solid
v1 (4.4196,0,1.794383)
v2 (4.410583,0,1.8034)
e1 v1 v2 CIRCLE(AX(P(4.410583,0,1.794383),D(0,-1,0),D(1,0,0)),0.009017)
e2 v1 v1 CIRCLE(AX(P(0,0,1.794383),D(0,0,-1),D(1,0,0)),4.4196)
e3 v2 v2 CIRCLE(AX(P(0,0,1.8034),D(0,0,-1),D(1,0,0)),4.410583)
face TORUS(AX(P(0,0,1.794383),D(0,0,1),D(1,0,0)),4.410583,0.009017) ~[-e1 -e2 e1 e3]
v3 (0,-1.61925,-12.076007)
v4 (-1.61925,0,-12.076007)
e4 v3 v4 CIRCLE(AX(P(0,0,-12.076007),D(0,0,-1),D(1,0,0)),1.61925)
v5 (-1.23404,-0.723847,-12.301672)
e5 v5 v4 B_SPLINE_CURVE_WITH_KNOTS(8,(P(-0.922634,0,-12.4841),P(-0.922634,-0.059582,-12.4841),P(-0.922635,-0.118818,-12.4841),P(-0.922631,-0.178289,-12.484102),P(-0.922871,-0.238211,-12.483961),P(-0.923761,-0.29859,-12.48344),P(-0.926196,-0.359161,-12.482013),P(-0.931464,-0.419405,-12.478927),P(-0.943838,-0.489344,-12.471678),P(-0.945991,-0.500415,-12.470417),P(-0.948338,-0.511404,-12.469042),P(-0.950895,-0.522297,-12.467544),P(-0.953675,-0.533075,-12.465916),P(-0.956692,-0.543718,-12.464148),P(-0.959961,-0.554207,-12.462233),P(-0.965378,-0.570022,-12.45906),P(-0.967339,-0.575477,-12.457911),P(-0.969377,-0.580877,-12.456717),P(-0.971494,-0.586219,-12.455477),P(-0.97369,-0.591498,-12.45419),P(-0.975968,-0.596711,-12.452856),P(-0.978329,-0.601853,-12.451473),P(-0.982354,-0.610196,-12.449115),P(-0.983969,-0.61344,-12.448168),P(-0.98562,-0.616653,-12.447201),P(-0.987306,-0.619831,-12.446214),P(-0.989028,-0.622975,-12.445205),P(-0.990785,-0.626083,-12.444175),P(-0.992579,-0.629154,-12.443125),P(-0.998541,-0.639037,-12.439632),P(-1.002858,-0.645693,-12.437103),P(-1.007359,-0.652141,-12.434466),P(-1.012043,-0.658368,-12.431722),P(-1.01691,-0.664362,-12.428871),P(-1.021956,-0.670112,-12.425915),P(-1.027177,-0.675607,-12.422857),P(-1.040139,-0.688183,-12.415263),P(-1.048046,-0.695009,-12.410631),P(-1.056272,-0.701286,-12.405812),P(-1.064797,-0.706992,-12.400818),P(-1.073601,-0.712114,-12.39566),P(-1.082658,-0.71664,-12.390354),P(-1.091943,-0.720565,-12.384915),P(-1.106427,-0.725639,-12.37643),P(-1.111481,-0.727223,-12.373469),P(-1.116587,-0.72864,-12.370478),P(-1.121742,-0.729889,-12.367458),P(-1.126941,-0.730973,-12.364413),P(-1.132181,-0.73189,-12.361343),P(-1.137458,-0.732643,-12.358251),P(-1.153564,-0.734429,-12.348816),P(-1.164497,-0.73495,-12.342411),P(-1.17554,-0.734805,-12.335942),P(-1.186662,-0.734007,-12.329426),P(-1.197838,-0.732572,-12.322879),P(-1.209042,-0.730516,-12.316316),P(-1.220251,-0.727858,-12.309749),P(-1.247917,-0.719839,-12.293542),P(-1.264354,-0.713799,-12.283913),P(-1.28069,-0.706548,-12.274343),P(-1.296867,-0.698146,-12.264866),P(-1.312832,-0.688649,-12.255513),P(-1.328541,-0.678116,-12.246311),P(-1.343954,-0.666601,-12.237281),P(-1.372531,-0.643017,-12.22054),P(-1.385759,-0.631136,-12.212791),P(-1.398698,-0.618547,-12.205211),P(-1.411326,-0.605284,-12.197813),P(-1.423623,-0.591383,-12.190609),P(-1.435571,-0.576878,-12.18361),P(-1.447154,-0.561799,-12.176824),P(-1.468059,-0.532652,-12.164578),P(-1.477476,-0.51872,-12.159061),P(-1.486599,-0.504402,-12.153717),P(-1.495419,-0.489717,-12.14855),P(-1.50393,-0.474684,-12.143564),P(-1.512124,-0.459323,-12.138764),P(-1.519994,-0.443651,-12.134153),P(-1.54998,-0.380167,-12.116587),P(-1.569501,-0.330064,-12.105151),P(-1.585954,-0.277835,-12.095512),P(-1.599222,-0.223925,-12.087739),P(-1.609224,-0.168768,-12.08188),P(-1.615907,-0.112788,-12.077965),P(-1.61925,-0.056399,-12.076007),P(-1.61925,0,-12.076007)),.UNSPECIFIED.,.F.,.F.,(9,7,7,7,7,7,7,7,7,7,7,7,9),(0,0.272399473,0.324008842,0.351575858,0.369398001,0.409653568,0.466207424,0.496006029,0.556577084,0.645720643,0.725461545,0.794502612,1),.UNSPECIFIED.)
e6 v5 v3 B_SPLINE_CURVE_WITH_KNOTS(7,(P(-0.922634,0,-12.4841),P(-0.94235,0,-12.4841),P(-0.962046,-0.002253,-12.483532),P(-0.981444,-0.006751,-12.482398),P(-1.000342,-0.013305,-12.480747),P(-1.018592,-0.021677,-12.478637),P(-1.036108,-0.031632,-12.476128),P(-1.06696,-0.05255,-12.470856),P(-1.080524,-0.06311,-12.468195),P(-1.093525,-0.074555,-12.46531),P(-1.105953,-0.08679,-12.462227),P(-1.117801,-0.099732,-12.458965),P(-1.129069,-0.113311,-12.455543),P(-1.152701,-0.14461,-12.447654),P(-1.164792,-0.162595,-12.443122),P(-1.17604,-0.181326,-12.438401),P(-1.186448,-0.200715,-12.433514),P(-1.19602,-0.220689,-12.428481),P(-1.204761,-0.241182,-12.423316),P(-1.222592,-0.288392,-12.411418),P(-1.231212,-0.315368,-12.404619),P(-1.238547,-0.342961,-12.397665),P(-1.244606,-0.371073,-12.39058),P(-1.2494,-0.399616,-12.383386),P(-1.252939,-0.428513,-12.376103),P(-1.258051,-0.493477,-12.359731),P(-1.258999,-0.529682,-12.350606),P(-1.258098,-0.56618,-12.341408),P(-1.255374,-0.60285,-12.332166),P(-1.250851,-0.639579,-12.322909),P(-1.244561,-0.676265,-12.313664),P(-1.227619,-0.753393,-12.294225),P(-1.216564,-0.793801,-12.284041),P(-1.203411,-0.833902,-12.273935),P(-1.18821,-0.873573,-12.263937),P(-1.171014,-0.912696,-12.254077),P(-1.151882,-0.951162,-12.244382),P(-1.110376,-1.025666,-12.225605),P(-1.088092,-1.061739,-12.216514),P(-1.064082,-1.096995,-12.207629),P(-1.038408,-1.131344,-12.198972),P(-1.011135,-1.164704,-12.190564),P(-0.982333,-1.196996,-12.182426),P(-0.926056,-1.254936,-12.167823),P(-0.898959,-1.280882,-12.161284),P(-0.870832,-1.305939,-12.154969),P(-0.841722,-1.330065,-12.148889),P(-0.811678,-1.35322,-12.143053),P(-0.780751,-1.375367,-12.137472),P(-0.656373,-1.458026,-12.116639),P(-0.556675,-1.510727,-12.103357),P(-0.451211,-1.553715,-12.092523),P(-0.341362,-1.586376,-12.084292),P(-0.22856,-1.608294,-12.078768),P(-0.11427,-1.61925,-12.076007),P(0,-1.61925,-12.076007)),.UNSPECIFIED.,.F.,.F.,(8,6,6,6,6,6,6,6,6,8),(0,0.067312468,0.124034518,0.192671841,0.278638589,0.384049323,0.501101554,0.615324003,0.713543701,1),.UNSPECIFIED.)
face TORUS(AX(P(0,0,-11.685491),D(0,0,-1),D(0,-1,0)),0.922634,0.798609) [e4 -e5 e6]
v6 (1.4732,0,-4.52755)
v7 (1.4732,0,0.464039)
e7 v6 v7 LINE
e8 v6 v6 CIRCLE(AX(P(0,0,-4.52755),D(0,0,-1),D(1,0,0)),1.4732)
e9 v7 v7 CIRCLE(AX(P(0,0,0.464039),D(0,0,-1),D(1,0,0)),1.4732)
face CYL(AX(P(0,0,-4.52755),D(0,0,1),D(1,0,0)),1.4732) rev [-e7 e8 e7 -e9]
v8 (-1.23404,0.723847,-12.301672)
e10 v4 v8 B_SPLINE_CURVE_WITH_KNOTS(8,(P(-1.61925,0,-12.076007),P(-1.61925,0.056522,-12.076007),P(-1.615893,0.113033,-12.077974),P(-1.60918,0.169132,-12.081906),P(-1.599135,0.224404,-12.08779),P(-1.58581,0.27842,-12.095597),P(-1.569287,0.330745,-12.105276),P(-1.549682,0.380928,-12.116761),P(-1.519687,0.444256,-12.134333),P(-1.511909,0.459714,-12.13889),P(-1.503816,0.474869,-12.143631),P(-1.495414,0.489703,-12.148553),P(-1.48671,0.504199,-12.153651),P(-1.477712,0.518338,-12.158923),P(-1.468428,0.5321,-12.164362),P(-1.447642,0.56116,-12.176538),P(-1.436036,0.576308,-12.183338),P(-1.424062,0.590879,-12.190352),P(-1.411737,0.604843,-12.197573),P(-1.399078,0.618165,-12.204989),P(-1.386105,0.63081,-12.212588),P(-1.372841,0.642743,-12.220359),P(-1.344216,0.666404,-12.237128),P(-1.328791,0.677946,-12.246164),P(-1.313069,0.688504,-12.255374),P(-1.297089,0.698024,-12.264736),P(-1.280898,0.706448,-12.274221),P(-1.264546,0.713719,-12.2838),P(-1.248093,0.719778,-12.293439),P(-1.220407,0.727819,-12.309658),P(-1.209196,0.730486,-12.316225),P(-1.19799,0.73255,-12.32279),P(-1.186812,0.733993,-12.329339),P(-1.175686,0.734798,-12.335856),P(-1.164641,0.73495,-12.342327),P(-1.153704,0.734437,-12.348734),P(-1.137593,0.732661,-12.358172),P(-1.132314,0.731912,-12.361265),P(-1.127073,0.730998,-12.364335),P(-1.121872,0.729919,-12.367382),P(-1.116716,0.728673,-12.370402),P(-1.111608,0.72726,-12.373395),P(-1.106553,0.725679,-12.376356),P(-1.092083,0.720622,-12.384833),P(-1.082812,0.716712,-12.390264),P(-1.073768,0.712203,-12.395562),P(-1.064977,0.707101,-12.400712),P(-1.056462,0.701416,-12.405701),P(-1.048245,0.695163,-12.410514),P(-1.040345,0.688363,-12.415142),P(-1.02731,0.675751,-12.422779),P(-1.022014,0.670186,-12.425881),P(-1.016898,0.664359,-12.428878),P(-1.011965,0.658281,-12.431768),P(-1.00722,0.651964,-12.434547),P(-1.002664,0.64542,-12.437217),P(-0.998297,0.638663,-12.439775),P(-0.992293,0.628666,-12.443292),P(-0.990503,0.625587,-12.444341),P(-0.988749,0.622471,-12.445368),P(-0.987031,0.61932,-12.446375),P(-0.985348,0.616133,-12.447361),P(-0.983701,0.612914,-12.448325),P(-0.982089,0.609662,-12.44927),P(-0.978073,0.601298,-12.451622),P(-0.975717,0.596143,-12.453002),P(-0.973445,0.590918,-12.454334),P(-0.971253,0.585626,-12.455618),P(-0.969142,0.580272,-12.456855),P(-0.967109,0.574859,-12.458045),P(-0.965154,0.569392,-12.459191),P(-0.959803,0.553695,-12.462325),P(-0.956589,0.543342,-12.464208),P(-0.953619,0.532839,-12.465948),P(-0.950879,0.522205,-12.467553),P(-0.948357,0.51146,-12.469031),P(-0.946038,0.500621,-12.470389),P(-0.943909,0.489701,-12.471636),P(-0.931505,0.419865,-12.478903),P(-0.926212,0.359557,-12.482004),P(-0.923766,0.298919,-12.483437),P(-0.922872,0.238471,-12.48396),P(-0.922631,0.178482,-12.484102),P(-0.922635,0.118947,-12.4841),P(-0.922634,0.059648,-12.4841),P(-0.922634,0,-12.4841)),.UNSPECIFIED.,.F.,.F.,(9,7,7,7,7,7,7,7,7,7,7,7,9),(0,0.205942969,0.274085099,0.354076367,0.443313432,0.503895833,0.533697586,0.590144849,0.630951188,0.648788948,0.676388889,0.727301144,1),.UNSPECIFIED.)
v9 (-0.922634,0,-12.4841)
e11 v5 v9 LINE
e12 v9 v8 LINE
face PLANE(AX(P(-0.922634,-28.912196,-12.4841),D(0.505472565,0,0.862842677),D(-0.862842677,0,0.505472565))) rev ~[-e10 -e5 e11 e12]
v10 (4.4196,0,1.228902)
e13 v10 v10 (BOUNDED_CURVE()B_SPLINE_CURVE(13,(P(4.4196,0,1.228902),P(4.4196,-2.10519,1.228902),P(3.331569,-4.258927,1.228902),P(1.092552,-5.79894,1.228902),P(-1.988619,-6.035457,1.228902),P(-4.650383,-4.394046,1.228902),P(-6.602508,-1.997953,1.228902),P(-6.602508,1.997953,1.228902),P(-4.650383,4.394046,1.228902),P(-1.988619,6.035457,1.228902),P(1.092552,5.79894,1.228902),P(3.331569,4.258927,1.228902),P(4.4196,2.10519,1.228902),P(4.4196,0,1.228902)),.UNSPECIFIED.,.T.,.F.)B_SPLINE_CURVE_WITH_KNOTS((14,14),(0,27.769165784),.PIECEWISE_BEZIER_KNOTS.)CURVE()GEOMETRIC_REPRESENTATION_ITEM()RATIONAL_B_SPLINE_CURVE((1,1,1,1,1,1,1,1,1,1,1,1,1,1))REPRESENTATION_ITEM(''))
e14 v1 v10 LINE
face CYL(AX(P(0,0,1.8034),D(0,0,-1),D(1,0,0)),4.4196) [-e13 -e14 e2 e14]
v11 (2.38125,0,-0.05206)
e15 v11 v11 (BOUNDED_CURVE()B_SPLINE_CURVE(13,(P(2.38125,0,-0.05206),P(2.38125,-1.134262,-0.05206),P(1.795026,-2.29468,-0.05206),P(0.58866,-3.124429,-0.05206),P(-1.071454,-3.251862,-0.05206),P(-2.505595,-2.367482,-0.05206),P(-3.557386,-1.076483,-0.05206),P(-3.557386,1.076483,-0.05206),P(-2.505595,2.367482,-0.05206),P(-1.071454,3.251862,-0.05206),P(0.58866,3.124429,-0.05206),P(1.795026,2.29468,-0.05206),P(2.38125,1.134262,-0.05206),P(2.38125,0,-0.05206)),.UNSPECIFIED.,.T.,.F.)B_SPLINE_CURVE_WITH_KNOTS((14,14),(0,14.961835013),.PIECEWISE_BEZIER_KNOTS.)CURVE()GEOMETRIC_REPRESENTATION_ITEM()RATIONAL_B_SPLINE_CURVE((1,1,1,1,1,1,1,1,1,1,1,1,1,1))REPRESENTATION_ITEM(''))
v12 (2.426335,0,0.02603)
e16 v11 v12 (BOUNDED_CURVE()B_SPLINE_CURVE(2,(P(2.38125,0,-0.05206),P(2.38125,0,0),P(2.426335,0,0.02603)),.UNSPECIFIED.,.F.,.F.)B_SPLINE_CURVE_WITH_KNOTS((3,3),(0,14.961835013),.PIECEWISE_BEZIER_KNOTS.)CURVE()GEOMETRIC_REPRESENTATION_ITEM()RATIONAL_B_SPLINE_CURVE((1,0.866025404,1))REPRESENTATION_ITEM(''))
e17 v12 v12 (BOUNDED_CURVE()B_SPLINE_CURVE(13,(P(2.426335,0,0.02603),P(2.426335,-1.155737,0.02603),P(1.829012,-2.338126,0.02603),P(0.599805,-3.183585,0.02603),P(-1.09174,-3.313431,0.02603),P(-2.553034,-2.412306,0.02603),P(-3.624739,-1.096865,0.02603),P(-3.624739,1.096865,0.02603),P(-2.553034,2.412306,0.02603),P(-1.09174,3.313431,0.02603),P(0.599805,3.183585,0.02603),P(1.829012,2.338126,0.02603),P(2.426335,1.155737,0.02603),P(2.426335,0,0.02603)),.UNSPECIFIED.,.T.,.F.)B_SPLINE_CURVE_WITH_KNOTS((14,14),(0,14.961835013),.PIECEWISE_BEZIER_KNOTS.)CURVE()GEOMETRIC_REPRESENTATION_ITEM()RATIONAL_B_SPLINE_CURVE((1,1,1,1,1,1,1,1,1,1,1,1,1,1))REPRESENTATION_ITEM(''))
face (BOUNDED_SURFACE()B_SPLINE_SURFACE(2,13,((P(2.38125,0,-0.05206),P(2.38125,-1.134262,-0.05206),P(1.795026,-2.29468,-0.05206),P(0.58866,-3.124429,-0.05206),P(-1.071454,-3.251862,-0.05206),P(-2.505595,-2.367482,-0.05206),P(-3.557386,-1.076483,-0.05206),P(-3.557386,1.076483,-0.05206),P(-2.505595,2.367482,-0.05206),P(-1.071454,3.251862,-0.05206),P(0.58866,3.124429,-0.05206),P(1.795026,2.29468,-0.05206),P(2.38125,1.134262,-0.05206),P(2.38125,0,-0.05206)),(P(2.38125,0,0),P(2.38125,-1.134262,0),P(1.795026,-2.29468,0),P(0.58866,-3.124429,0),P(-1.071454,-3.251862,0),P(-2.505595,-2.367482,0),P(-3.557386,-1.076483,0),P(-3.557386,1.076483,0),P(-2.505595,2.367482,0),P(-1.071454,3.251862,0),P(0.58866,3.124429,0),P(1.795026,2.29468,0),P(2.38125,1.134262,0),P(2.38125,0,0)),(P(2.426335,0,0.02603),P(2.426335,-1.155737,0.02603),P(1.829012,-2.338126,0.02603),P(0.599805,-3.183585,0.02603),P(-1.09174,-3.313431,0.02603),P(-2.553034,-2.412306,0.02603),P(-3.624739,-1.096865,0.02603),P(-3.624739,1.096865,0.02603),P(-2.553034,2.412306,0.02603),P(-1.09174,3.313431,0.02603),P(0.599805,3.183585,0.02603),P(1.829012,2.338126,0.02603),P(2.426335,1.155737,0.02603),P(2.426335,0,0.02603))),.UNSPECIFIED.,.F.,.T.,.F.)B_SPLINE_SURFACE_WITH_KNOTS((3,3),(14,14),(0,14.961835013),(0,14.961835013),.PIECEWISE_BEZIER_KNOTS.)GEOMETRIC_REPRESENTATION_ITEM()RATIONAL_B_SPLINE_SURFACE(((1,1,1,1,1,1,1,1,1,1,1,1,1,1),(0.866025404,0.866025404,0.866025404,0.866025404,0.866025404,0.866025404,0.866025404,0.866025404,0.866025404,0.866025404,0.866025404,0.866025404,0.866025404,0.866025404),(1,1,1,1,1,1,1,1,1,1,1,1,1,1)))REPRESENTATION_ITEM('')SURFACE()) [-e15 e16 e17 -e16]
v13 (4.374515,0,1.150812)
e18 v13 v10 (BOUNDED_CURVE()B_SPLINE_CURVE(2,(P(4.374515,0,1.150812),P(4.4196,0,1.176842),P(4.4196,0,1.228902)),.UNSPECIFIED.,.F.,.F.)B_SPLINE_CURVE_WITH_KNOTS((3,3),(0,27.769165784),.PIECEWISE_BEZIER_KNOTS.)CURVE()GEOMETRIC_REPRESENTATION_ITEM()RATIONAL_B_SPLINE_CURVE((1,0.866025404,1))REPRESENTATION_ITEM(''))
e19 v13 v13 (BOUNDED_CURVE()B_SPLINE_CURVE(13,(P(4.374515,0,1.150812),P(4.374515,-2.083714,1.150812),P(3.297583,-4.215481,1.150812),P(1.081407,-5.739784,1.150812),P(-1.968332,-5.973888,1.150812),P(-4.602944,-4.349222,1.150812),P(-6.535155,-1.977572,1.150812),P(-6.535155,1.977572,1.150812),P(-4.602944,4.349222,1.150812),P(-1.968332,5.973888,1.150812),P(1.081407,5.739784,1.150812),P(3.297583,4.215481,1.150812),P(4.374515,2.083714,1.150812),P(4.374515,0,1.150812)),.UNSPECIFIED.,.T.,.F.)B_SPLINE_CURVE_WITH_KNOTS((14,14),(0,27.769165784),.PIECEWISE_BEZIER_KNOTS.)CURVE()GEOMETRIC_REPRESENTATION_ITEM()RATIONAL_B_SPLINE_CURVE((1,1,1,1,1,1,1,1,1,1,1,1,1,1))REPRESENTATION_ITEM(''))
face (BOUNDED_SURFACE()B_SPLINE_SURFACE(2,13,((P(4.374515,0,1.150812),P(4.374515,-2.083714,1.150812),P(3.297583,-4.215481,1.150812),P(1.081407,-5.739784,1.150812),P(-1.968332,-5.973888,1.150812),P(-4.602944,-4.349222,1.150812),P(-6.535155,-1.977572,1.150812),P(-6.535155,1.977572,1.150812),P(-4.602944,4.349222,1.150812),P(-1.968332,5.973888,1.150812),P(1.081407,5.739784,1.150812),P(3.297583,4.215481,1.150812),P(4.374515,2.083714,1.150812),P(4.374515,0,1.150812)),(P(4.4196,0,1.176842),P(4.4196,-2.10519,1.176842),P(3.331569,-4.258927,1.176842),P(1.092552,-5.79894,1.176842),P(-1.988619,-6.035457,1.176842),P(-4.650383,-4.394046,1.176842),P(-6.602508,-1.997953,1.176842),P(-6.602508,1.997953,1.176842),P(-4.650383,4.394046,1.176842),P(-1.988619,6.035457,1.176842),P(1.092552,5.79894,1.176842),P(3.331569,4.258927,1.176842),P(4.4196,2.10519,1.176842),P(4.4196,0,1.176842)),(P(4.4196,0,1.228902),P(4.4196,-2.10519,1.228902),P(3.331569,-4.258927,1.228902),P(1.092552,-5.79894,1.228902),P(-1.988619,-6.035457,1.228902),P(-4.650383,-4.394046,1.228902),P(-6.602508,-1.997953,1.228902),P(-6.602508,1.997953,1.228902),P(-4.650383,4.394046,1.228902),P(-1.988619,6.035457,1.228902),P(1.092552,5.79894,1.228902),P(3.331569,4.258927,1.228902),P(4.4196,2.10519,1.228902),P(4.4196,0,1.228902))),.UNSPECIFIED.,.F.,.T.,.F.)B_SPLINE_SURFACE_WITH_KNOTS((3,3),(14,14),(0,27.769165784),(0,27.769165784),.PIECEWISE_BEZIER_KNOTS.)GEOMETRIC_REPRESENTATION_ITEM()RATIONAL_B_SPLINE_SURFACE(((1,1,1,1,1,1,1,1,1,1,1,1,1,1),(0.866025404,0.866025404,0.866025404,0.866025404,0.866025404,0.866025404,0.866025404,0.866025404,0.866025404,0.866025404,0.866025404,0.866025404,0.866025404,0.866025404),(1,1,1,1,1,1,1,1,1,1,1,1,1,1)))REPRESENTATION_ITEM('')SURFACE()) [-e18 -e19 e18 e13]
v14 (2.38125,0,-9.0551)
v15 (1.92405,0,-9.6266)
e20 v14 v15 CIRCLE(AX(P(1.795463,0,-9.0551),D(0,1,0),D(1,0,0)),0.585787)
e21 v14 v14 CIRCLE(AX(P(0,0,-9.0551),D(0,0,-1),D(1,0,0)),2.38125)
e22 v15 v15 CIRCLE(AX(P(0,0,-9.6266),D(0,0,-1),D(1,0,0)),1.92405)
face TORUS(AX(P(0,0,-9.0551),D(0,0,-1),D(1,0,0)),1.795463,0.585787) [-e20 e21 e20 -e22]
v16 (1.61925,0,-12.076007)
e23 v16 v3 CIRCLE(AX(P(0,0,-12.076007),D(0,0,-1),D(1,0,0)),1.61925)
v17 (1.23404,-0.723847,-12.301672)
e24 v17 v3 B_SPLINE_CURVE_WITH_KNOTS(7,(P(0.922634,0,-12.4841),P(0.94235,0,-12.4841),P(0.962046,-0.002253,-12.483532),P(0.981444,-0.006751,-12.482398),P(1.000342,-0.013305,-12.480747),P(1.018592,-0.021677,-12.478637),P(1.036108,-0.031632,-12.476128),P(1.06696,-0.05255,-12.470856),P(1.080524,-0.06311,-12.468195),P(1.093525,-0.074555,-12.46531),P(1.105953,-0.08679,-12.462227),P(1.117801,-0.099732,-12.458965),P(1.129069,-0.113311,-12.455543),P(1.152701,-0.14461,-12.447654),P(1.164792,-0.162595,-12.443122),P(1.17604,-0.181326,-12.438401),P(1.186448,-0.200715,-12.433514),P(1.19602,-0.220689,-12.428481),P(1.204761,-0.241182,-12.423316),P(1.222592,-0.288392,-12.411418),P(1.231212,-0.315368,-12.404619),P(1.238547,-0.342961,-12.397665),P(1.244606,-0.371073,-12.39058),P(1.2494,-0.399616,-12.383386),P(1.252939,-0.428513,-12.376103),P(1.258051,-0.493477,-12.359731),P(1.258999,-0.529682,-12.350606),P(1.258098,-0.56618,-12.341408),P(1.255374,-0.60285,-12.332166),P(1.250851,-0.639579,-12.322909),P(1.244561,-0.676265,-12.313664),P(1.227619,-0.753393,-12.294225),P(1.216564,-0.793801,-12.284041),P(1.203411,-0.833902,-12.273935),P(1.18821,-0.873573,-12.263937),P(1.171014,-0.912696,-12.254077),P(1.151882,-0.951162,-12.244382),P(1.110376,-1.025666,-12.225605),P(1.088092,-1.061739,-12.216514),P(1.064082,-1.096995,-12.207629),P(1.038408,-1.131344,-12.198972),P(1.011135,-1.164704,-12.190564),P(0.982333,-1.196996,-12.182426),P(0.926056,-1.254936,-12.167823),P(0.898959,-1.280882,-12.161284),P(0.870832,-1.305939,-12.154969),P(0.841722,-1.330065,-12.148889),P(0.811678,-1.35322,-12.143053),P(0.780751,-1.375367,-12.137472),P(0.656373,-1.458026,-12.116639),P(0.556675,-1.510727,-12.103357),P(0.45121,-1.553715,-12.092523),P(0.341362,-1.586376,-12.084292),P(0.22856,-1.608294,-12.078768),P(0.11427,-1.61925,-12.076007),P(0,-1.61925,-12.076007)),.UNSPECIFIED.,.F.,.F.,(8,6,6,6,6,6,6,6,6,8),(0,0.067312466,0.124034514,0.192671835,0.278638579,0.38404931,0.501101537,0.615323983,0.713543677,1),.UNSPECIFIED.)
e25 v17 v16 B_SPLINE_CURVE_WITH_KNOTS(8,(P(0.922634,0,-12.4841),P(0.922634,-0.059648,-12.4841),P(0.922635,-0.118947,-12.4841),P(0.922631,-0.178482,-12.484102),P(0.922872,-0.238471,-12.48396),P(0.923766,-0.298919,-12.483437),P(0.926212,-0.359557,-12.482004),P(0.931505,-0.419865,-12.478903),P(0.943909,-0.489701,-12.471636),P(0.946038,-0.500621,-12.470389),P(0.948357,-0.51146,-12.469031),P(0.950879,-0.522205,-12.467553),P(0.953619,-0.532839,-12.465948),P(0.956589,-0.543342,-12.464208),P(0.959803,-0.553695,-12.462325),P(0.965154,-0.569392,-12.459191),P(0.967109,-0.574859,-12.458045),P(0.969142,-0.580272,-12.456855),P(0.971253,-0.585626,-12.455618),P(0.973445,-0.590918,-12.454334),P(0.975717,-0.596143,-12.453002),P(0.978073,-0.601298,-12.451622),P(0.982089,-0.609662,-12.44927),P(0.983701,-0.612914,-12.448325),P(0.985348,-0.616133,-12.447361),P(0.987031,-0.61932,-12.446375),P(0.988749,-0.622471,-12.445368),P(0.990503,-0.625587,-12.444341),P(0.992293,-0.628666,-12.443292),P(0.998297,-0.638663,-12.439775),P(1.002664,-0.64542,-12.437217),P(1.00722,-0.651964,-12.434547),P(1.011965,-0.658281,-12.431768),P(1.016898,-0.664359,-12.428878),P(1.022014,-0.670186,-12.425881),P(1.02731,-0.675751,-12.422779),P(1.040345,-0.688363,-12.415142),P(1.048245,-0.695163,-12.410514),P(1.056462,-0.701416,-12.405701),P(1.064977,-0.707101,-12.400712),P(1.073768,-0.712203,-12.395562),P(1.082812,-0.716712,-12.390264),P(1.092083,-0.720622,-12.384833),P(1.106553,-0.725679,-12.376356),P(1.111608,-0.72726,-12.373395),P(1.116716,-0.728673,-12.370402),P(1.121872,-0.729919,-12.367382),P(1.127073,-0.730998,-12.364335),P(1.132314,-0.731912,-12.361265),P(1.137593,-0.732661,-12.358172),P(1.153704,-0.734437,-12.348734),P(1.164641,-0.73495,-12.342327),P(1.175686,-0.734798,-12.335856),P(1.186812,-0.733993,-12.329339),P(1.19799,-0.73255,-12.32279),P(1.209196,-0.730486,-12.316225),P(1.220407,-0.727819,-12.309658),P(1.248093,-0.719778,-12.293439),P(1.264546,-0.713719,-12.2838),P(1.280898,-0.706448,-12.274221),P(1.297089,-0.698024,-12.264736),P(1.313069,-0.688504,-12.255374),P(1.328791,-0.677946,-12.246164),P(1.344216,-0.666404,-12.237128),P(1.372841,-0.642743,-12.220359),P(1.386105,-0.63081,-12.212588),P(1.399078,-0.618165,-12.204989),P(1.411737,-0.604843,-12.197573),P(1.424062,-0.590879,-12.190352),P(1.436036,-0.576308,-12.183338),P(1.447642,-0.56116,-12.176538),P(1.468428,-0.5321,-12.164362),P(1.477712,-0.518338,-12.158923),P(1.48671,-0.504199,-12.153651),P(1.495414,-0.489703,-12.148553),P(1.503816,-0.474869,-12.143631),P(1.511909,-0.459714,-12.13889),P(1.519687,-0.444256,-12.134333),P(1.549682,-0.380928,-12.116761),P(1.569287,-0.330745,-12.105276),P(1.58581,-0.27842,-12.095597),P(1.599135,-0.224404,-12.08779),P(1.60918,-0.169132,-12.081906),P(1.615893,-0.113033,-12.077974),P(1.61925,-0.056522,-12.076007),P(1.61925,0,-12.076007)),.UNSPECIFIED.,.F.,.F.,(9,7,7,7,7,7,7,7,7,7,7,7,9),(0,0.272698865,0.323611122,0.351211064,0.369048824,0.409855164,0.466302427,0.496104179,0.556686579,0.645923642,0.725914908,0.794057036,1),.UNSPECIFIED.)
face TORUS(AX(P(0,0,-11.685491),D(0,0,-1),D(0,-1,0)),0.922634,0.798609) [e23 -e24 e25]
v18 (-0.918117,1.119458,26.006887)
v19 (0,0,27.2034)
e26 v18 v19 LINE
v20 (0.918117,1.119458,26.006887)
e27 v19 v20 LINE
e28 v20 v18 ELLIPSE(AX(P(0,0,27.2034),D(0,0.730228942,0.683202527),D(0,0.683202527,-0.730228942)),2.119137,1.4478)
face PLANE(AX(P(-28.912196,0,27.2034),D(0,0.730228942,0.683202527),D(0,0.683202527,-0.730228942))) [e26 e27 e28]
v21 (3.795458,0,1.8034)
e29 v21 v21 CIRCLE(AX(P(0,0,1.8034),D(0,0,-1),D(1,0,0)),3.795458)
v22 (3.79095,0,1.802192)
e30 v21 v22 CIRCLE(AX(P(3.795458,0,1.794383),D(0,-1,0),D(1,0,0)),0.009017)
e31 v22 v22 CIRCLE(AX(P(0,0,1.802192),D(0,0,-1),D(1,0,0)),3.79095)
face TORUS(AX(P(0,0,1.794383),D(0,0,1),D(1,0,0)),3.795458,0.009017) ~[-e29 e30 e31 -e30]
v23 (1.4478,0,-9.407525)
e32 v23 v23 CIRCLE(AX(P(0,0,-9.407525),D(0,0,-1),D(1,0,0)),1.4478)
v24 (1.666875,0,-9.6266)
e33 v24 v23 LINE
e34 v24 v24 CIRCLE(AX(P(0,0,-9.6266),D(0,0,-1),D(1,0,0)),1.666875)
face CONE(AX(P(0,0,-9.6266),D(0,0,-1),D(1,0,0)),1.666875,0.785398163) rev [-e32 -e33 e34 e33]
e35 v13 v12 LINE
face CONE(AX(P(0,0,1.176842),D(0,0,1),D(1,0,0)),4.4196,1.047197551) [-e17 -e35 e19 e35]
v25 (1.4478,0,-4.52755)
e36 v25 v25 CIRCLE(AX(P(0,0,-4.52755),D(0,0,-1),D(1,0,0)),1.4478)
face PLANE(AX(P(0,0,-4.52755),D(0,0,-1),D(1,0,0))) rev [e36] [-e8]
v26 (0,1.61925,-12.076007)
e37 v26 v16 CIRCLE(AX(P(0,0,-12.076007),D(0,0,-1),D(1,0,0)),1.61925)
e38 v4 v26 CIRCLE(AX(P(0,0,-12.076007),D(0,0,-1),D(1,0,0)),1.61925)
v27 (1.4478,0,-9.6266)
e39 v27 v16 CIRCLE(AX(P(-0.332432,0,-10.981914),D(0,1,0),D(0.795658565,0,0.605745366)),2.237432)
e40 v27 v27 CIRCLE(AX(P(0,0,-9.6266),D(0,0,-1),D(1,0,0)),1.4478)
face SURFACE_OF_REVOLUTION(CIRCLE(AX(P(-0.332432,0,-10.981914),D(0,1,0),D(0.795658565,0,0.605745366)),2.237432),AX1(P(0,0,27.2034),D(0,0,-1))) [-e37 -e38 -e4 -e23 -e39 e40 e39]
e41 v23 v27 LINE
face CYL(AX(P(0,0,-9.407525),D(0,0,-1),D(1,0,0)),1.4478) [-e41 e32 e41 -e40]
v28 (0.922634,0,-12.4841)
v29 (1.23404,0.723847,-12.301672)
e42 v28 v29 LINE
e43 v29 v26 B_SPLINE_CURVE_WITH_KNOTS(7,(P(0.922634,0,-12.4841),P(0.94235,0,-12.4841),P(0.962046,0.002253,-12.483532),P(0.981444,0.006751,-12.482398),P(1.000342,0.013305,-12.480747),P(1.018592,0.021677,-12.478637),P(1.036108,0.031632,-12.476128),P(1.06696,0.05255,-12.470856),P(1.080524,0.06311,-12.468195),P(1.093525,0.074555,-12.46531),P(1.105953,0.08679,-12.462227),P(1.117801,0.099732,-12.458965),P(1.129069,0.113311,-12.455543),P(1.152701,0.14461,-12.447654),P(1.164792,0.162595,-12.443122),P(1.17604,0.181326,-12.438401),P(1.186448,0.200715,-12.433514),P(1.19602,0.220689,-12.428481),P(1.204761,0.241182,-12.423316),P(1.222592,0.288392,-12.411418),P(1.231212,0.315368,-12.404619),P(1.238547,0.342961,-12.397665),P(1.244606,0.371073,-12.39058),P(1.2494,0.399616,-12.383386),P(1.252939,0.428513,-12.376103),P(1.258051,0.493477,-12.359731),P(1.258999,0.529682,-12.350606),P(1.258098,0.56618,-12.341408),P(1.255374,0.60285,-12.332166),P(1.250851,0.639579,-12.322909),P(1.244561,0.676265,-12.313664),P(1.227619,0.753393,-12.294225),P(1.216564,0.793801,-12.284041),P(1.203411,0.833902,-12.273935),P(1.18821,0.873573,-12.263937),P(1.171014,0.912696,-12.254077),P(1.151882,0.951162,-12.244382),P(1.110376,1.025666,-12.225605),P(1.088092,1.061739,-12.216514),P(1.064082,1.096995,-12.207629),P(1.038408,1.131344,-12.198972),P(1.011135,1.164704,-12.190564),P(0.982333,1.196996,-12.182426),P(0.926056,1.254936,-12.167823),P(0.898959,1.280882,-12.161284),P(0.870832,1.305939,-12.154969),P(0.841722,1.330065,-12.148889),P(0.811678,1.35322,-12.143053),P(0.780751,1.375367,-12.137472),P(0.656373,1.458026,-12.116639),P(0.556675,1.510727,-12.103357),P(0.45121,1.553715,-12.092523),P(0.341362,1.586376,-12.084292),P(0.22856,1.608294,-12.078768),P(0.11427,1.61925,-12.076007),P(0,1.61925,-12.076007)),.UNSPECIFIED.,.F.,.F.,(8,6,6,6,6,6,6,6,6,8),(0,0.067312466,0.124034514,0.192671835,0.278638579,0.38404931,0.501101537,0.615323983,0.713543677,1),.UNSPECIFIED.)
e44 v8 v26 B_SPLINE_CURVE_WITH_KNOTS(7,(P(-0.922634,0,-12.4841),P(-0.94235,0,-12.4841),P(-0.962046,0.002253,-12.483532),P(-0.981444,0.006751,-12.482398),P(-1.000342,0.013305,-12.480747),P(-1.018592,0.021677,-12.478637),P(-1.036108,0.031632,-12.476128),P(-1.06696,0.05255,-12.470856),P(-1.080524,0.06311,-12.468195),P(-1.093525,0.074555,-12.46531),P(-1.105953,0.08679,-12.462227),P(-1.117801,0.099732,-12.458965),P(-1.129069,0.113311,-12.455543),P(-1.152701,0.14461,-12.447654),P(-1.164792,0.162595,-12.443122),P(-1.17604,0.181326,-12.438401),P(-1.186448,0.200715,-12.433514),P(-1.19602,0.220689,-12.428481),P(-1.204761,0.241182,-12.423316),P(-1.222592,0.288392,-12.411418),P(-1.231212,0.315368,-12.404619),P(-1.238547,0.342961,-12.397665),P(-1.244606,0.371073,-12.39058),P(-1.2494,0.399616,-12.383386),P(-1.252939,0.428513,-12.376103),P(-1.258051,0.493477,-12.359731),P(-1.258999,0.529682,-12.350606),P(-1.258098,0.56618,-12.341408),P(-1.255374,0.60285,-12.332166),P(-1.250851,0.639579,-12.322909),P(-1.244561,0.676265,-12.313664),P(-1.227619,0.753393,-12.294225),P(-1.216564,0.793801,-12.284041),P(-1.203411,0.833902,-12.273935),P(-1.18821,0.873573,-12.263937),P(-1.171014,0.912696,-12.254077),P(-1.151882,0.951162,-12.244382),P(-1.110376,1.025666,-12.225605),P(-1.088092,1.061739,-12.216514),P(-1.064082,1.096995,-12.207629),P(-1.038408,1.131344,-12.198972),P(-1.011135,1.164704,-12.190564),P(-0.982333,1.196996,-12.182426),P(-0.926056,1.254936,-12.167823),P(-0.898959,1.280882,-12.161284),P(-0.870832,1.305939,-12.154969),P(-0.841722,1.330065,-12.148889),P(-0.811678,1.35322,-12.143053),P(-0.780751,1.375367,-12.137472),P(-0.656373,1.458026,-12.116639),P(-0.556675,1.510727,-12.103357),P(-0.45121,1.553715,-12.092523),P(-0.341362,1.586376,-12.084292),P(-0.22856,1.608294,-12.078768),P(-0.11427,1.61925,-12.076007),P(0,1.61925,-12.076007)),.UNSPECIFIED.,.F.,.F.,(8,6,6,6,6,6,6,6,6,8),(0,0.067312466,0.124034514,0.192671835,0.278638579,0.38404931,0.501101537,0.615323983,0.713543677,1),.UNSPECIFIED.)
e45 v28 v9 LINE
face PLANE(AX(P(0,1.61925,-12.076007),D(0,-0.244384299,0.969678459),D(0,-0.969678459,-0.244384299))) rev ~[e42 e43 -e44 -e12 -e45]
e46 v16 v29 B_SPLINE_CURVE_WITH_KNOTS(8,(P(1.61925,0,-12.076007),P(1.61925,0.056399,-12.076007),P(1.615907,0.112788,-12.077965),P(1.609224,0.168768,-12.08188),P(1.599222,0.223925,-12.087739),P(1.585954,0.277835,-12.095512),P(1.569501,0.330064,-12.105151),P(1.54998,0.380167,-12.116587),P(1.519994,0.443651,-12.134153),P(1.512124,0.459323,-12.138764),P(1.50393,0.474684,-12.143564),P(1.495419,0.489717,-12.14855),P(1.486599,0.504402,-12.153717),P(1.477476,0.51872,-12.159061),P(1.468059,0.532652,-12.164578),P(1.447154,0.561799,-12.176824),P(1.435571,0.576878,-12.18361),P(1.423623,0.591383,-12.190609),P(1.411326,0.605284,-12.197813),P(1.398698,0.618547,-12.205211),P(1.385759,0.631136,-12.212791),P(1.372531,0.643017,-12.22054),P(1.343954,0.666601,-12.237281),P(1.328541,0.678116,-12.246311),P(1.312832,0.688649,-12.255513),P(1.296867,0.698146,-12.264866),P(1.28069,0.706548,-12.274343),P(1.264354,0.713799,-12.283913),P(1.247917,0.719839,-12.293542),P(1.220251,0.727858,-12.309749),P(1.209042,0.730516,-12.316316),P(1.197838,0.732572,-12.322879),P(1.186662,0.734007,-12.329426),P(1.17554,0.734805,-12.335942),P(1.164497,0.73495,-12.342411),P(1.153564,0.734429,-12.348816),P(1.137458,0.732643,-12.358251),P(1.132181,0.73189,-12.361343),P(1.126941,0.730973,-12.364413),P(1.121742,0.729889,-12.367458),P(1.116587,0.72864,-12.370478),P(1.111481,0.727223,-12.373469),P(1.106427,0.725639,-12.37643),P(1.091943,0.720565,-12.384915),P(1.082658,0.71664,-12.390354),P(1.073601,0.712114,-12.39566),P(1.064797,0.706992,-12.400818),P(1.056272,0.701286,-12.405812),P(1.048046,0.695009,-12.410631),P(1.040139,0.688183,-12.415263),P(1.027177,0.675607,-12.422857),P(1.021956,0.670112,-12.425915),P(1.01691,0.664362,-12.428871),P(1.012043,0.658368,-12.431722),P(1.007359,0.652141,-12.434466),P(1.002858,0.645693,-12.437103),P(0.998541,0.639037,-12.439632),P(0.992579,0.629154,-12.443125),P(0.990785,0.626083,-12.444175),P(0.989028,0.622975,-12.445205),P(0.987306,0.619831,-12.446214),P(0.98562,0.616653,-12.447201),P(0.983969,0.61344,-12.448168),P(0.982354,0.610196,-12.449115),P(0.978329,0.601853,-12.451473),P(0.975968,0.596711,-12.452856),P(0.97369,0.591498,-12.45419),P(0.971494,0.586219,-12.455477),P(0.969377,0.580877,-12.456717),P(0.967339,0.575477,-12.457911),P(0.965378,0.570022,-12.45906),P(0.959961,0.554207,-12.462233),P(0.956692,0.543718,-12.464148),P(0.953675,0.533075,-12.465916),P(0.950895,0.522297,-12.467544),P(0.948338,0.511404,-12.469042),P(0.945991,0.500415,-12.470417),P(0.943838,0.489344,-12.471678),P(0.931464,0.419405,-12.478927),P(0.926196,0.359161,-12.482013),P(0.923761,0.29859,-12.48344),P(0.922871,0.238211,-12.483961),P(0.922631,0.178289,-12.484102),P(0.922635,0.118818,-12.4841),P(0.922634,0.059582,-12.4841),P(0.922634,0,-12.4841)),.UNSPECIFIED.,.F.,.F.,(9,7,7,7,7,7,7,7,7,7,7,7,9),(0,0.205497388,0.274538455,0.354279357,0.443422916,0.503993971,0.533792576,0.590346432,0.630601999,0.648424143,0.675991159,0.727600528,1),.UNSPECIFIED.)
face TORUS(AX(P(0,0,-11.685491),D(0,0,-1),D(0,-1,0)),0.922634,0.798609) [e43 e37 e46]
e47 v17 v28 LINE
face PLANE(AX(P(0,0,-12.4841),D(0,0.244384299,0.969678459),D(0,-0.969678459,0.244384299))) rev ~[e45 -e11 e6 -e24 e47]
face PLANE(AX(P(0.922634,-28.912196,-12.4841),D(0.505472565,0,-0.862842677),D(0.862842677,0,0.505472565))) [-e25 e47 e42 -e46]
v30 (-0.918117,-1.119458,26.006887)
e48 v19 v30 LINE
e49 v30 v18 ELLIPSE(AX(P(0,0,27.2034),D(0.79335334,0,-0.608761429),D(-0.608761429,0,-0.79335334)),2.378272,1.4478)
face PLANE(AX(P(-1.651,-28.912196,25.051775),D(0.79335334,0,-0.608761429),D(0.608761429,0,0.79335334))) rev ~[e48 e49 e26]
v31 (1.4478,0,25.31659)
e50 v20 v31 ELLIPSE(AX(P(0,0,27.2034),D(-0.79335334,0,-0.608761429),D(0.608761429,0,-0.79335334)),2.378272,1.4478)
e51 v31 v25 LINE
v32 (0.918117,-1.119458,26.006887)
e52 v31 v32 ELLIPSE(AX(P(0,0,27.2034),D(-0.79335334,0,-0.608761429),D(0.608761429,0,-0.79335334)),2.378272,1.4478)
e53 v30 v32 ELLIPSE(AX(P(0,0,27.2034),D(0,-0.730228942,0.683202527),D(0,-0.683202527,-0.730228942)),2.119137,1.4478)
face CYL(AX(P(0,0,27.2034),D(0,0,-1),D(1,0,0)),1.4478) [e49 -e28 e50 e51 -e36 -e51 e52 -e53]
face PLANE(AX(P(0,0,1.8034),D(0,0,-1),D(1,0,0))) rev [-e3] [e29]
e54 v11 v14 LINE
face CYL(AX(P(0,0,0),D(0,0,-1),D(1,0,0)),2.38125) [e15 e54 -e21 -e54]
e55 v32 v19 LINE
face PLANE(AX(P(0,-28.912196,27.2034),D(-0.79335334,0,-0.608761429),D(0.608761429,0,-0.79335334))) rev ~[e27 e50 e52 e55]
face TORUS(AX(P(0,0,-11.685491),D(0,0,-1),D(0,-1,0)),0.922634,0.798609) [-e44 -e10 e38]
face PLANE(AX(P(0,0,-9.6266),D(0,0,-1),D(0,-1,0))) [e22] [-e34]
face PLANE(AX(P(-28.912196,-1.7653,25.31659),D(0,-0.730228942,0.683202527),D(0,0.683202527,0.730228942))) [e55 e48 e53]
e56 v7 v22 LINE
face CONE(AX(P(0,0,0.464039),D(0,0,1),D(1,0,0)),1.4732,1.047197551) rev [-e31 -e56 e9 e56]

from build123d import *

# Parameters (mm, degrees)
CUT_EXTRUDE1_DEPTH      = 28.912196257
CUT_EXTRUDE1_DEPTH_BACK = 28.912196257
CUT_EXTRUDE2_DEPTH      = 28.912196257
CUT_EXTRUDE2_DEPTH_BACK = 28.912196257
BOSS_EXTRUDE1_DEPTH     = 1.905
CUT_EXTRUDE6_DEPTH      = 28.912196257
CUT_EXTRUDE6_DEPTH_BACK = 28.912196257
FILLET1_R               = 0.09017
FILLET2_R               = 0.009017


with BuildPart() as part:
    # Sketch2 → Revolve1 (revolve)
    with BuildSketch(Plane(origin=(0, 0, 0), x_dir=(0, 0, -1), z_dir=(1, 0, 0)), mode=Mode.PRIVATE) as revolve1_sk:
        with BuildLine():
            Line((-27.2034, 0), (-27.2034, 1.4478))
            Line((-27.2034, 1.4478), (-1.8034, 1.4478))
            Line((-1.8034, 1.4478), (4.52755, 1.4478))
            Line((4.52755, 1.4478), (4.52755, 1.4732))
            Line((4.52755, 1.4732), (-0.464038642, 1.4732))
            Line((-0.464038642, 1.4732), (-1.8034, 3.793041921))
            Line((-1.8034, 3.793041921), (-1.8034, 4.4196))
            Line((-1.8034, 4.4196), (-1.176841921, 4.4196))
            Line((-1.176841921, 4.4196), (0, 2.38125))
            Line((0, 2.38125), (9.0551, 2.38125))
            ThreePointArc((9.0551, 2.38125), (9.512523188, 2.16140105), (9.6266, 1.666875))
            Line((9.6266, 1.666875), (9.407525, 1.4478))
            Line((9.407525, 1.4478), (9.6266, 1.4478))
            ThreePointArc((9.6266, 1.4478), (10.825683647, 1.899538893), (12.076006707, 1.61925))
            Line((12.076006707, 1.61925), (12.076006707, 0))
            Line((12.076006707, 0), (9.6266, 0))
            Line((9.6266, 0), (-27.2034, 0))
        make_face()
    revolve(revolve1_sk.sketch.rotate(Axis((0, 0, 27.2034), (0, 0, -1)), 90), axis=Axis((0, 0, 27.2034), (0, 0, -1)))

    # Sketch3 → Cut-Extrude1 (cut, two sides: drawn at the far end of the back side and taken through both)
    with BuildSketch(Plane(origin=(0, 0, 0), x_dir=(1, 0, 0), z_dir=(0, 1, 0)).offset(-CUT_EXTRUDE1_DEPTH_BACK)):
        Polygon((0, -27.2034), (1.651, -25.051774909), (1.651, -27.7114), (-1.651, -27.7114), (-1.651, -25.051774909), align=None)
    extrude(amount=CUT_EXTRUDE1_DEPTH + CUT_EXTRUDE1_DEPTH_BACK, mode=Mode.SUBTRACT)

    # Sketch5 → Cut-Extrude2 (cut, two sides: drawn at the far end of the back side and taken through both)
    with BuildSketch(Plane(origin=(0, 0, 0), x_dir=(0, 0, -1), z_dir=(1, 0, 0)).offset(-CUT_EXTRUDE2_DEPTH_BACK)):
        Polygon((-27.2034, 0), (-25.316590305, 1.7653), (-27.5209, 1.7653), (-27.5209, -1.7653), (-25.316590305, -1.7653), align=None)
    extrude(amount=CUT_EXTRUDE2_DEPTH + CUT_EXTRUDE2_DEPTH_BACK, mode=Mode.SUBTRACT)

    # Sketch10 → Boss-Extrude1 (add, symmetric)
    with BuildSketch(Plane(origin=(0, 0, 0), x_dir=(0, 0, -1), z_dir=(1, 0, 0))):
        Polygon((12.076006707, 1.61925), (12.4841, 0), (12.076006707, -1.61925), align=None)
    extrude(amount=BOSS_EXTRUDE1_DEPTH, both=True)

    # Sketch12 → Cut-Revolve1 (revolve, cut)
    with BuildSketch(Plane(origin=(0, 0, 0), x_dir=(1, 0, 0), z_dir=(0, 1, 0)), mode=Mode.PRIVATE) as cut_revolve1_sk:
        with BuildLine():
            Line((-0.922633935, 12.4841), (-0.922633935, 15.981066065))
            Line((-0.922633935, 15.981066065), (-4.4196, 15.981066065))
            Line((-4.4196, 15.981066065), (-4.4196, 9.6266))
            Line((-4.4196, 9.6266), (-1.4478, 9.6266))
            ThreePointArc((-1.4478, 9.6266), (-1.899538893, 10.825683647), (-1.61925, 12.076006707))
            ThreePointArc((-1.61925, 12.076006707), (-1.326308952, 12.374564907), (-0.922633935, 12.4841))
        make_face()
    revolve(cut_revolve1_sk.sketch.rotate(Axis((0, 0, 0), (0, 0, -1)), 270), axis=Axis((0, 0, 0), (0, 0, -1)), mode=Mode.SUBTRACT)

    # Sketch13 → Cut-Extrude6 (cut, two sides: drawn at the far end of the back side and taken through both)
    with BuildSketch(Plane(origin=(0, 0, 0), x_dir=(1, 0, 0), z_dir=(0, 1, 0)).offset(-CUT_EXTRUDE6_DEPTH_BACK)):
        Polygon((-0.922633935, 12.4841), (-1.61925, 12.076006707), (-1.61925, 15.981066065), (-0.922633935, 15.981066065), align=None)
        Polygon((1.61925, 12.076006707), (1.61925, 15.981066065), (0.922633935, 15.981066065), (0.922633935, 12.4841), align=None)
    extrude(amount=CUT_EXTRUDE6_DEPTH + CUT_EXTRUDE6_DEPTH_BACK, mode=Mode.SUBTRACT)

    # Fillet1
    fillet1_edges = [part.edges().sort_by_distance(p)[0] for p in [
        (-2.38125, 0, 0),
        (-4.4196, 0, 1.176841921),
    ]]
    fillet(fillet1_edges, radius=FILLET1_R)

    # Fillet2
    fillet2_edges = [part.edges().sort_by_distance(p)[0] for p in [
        (-4.4196, 0, 1.8034),
        (-3.793041921, 0, 1.8034),
    ]]
    fillet(fillet2_edges, radius=FILLET2_R)


solid = part.part
